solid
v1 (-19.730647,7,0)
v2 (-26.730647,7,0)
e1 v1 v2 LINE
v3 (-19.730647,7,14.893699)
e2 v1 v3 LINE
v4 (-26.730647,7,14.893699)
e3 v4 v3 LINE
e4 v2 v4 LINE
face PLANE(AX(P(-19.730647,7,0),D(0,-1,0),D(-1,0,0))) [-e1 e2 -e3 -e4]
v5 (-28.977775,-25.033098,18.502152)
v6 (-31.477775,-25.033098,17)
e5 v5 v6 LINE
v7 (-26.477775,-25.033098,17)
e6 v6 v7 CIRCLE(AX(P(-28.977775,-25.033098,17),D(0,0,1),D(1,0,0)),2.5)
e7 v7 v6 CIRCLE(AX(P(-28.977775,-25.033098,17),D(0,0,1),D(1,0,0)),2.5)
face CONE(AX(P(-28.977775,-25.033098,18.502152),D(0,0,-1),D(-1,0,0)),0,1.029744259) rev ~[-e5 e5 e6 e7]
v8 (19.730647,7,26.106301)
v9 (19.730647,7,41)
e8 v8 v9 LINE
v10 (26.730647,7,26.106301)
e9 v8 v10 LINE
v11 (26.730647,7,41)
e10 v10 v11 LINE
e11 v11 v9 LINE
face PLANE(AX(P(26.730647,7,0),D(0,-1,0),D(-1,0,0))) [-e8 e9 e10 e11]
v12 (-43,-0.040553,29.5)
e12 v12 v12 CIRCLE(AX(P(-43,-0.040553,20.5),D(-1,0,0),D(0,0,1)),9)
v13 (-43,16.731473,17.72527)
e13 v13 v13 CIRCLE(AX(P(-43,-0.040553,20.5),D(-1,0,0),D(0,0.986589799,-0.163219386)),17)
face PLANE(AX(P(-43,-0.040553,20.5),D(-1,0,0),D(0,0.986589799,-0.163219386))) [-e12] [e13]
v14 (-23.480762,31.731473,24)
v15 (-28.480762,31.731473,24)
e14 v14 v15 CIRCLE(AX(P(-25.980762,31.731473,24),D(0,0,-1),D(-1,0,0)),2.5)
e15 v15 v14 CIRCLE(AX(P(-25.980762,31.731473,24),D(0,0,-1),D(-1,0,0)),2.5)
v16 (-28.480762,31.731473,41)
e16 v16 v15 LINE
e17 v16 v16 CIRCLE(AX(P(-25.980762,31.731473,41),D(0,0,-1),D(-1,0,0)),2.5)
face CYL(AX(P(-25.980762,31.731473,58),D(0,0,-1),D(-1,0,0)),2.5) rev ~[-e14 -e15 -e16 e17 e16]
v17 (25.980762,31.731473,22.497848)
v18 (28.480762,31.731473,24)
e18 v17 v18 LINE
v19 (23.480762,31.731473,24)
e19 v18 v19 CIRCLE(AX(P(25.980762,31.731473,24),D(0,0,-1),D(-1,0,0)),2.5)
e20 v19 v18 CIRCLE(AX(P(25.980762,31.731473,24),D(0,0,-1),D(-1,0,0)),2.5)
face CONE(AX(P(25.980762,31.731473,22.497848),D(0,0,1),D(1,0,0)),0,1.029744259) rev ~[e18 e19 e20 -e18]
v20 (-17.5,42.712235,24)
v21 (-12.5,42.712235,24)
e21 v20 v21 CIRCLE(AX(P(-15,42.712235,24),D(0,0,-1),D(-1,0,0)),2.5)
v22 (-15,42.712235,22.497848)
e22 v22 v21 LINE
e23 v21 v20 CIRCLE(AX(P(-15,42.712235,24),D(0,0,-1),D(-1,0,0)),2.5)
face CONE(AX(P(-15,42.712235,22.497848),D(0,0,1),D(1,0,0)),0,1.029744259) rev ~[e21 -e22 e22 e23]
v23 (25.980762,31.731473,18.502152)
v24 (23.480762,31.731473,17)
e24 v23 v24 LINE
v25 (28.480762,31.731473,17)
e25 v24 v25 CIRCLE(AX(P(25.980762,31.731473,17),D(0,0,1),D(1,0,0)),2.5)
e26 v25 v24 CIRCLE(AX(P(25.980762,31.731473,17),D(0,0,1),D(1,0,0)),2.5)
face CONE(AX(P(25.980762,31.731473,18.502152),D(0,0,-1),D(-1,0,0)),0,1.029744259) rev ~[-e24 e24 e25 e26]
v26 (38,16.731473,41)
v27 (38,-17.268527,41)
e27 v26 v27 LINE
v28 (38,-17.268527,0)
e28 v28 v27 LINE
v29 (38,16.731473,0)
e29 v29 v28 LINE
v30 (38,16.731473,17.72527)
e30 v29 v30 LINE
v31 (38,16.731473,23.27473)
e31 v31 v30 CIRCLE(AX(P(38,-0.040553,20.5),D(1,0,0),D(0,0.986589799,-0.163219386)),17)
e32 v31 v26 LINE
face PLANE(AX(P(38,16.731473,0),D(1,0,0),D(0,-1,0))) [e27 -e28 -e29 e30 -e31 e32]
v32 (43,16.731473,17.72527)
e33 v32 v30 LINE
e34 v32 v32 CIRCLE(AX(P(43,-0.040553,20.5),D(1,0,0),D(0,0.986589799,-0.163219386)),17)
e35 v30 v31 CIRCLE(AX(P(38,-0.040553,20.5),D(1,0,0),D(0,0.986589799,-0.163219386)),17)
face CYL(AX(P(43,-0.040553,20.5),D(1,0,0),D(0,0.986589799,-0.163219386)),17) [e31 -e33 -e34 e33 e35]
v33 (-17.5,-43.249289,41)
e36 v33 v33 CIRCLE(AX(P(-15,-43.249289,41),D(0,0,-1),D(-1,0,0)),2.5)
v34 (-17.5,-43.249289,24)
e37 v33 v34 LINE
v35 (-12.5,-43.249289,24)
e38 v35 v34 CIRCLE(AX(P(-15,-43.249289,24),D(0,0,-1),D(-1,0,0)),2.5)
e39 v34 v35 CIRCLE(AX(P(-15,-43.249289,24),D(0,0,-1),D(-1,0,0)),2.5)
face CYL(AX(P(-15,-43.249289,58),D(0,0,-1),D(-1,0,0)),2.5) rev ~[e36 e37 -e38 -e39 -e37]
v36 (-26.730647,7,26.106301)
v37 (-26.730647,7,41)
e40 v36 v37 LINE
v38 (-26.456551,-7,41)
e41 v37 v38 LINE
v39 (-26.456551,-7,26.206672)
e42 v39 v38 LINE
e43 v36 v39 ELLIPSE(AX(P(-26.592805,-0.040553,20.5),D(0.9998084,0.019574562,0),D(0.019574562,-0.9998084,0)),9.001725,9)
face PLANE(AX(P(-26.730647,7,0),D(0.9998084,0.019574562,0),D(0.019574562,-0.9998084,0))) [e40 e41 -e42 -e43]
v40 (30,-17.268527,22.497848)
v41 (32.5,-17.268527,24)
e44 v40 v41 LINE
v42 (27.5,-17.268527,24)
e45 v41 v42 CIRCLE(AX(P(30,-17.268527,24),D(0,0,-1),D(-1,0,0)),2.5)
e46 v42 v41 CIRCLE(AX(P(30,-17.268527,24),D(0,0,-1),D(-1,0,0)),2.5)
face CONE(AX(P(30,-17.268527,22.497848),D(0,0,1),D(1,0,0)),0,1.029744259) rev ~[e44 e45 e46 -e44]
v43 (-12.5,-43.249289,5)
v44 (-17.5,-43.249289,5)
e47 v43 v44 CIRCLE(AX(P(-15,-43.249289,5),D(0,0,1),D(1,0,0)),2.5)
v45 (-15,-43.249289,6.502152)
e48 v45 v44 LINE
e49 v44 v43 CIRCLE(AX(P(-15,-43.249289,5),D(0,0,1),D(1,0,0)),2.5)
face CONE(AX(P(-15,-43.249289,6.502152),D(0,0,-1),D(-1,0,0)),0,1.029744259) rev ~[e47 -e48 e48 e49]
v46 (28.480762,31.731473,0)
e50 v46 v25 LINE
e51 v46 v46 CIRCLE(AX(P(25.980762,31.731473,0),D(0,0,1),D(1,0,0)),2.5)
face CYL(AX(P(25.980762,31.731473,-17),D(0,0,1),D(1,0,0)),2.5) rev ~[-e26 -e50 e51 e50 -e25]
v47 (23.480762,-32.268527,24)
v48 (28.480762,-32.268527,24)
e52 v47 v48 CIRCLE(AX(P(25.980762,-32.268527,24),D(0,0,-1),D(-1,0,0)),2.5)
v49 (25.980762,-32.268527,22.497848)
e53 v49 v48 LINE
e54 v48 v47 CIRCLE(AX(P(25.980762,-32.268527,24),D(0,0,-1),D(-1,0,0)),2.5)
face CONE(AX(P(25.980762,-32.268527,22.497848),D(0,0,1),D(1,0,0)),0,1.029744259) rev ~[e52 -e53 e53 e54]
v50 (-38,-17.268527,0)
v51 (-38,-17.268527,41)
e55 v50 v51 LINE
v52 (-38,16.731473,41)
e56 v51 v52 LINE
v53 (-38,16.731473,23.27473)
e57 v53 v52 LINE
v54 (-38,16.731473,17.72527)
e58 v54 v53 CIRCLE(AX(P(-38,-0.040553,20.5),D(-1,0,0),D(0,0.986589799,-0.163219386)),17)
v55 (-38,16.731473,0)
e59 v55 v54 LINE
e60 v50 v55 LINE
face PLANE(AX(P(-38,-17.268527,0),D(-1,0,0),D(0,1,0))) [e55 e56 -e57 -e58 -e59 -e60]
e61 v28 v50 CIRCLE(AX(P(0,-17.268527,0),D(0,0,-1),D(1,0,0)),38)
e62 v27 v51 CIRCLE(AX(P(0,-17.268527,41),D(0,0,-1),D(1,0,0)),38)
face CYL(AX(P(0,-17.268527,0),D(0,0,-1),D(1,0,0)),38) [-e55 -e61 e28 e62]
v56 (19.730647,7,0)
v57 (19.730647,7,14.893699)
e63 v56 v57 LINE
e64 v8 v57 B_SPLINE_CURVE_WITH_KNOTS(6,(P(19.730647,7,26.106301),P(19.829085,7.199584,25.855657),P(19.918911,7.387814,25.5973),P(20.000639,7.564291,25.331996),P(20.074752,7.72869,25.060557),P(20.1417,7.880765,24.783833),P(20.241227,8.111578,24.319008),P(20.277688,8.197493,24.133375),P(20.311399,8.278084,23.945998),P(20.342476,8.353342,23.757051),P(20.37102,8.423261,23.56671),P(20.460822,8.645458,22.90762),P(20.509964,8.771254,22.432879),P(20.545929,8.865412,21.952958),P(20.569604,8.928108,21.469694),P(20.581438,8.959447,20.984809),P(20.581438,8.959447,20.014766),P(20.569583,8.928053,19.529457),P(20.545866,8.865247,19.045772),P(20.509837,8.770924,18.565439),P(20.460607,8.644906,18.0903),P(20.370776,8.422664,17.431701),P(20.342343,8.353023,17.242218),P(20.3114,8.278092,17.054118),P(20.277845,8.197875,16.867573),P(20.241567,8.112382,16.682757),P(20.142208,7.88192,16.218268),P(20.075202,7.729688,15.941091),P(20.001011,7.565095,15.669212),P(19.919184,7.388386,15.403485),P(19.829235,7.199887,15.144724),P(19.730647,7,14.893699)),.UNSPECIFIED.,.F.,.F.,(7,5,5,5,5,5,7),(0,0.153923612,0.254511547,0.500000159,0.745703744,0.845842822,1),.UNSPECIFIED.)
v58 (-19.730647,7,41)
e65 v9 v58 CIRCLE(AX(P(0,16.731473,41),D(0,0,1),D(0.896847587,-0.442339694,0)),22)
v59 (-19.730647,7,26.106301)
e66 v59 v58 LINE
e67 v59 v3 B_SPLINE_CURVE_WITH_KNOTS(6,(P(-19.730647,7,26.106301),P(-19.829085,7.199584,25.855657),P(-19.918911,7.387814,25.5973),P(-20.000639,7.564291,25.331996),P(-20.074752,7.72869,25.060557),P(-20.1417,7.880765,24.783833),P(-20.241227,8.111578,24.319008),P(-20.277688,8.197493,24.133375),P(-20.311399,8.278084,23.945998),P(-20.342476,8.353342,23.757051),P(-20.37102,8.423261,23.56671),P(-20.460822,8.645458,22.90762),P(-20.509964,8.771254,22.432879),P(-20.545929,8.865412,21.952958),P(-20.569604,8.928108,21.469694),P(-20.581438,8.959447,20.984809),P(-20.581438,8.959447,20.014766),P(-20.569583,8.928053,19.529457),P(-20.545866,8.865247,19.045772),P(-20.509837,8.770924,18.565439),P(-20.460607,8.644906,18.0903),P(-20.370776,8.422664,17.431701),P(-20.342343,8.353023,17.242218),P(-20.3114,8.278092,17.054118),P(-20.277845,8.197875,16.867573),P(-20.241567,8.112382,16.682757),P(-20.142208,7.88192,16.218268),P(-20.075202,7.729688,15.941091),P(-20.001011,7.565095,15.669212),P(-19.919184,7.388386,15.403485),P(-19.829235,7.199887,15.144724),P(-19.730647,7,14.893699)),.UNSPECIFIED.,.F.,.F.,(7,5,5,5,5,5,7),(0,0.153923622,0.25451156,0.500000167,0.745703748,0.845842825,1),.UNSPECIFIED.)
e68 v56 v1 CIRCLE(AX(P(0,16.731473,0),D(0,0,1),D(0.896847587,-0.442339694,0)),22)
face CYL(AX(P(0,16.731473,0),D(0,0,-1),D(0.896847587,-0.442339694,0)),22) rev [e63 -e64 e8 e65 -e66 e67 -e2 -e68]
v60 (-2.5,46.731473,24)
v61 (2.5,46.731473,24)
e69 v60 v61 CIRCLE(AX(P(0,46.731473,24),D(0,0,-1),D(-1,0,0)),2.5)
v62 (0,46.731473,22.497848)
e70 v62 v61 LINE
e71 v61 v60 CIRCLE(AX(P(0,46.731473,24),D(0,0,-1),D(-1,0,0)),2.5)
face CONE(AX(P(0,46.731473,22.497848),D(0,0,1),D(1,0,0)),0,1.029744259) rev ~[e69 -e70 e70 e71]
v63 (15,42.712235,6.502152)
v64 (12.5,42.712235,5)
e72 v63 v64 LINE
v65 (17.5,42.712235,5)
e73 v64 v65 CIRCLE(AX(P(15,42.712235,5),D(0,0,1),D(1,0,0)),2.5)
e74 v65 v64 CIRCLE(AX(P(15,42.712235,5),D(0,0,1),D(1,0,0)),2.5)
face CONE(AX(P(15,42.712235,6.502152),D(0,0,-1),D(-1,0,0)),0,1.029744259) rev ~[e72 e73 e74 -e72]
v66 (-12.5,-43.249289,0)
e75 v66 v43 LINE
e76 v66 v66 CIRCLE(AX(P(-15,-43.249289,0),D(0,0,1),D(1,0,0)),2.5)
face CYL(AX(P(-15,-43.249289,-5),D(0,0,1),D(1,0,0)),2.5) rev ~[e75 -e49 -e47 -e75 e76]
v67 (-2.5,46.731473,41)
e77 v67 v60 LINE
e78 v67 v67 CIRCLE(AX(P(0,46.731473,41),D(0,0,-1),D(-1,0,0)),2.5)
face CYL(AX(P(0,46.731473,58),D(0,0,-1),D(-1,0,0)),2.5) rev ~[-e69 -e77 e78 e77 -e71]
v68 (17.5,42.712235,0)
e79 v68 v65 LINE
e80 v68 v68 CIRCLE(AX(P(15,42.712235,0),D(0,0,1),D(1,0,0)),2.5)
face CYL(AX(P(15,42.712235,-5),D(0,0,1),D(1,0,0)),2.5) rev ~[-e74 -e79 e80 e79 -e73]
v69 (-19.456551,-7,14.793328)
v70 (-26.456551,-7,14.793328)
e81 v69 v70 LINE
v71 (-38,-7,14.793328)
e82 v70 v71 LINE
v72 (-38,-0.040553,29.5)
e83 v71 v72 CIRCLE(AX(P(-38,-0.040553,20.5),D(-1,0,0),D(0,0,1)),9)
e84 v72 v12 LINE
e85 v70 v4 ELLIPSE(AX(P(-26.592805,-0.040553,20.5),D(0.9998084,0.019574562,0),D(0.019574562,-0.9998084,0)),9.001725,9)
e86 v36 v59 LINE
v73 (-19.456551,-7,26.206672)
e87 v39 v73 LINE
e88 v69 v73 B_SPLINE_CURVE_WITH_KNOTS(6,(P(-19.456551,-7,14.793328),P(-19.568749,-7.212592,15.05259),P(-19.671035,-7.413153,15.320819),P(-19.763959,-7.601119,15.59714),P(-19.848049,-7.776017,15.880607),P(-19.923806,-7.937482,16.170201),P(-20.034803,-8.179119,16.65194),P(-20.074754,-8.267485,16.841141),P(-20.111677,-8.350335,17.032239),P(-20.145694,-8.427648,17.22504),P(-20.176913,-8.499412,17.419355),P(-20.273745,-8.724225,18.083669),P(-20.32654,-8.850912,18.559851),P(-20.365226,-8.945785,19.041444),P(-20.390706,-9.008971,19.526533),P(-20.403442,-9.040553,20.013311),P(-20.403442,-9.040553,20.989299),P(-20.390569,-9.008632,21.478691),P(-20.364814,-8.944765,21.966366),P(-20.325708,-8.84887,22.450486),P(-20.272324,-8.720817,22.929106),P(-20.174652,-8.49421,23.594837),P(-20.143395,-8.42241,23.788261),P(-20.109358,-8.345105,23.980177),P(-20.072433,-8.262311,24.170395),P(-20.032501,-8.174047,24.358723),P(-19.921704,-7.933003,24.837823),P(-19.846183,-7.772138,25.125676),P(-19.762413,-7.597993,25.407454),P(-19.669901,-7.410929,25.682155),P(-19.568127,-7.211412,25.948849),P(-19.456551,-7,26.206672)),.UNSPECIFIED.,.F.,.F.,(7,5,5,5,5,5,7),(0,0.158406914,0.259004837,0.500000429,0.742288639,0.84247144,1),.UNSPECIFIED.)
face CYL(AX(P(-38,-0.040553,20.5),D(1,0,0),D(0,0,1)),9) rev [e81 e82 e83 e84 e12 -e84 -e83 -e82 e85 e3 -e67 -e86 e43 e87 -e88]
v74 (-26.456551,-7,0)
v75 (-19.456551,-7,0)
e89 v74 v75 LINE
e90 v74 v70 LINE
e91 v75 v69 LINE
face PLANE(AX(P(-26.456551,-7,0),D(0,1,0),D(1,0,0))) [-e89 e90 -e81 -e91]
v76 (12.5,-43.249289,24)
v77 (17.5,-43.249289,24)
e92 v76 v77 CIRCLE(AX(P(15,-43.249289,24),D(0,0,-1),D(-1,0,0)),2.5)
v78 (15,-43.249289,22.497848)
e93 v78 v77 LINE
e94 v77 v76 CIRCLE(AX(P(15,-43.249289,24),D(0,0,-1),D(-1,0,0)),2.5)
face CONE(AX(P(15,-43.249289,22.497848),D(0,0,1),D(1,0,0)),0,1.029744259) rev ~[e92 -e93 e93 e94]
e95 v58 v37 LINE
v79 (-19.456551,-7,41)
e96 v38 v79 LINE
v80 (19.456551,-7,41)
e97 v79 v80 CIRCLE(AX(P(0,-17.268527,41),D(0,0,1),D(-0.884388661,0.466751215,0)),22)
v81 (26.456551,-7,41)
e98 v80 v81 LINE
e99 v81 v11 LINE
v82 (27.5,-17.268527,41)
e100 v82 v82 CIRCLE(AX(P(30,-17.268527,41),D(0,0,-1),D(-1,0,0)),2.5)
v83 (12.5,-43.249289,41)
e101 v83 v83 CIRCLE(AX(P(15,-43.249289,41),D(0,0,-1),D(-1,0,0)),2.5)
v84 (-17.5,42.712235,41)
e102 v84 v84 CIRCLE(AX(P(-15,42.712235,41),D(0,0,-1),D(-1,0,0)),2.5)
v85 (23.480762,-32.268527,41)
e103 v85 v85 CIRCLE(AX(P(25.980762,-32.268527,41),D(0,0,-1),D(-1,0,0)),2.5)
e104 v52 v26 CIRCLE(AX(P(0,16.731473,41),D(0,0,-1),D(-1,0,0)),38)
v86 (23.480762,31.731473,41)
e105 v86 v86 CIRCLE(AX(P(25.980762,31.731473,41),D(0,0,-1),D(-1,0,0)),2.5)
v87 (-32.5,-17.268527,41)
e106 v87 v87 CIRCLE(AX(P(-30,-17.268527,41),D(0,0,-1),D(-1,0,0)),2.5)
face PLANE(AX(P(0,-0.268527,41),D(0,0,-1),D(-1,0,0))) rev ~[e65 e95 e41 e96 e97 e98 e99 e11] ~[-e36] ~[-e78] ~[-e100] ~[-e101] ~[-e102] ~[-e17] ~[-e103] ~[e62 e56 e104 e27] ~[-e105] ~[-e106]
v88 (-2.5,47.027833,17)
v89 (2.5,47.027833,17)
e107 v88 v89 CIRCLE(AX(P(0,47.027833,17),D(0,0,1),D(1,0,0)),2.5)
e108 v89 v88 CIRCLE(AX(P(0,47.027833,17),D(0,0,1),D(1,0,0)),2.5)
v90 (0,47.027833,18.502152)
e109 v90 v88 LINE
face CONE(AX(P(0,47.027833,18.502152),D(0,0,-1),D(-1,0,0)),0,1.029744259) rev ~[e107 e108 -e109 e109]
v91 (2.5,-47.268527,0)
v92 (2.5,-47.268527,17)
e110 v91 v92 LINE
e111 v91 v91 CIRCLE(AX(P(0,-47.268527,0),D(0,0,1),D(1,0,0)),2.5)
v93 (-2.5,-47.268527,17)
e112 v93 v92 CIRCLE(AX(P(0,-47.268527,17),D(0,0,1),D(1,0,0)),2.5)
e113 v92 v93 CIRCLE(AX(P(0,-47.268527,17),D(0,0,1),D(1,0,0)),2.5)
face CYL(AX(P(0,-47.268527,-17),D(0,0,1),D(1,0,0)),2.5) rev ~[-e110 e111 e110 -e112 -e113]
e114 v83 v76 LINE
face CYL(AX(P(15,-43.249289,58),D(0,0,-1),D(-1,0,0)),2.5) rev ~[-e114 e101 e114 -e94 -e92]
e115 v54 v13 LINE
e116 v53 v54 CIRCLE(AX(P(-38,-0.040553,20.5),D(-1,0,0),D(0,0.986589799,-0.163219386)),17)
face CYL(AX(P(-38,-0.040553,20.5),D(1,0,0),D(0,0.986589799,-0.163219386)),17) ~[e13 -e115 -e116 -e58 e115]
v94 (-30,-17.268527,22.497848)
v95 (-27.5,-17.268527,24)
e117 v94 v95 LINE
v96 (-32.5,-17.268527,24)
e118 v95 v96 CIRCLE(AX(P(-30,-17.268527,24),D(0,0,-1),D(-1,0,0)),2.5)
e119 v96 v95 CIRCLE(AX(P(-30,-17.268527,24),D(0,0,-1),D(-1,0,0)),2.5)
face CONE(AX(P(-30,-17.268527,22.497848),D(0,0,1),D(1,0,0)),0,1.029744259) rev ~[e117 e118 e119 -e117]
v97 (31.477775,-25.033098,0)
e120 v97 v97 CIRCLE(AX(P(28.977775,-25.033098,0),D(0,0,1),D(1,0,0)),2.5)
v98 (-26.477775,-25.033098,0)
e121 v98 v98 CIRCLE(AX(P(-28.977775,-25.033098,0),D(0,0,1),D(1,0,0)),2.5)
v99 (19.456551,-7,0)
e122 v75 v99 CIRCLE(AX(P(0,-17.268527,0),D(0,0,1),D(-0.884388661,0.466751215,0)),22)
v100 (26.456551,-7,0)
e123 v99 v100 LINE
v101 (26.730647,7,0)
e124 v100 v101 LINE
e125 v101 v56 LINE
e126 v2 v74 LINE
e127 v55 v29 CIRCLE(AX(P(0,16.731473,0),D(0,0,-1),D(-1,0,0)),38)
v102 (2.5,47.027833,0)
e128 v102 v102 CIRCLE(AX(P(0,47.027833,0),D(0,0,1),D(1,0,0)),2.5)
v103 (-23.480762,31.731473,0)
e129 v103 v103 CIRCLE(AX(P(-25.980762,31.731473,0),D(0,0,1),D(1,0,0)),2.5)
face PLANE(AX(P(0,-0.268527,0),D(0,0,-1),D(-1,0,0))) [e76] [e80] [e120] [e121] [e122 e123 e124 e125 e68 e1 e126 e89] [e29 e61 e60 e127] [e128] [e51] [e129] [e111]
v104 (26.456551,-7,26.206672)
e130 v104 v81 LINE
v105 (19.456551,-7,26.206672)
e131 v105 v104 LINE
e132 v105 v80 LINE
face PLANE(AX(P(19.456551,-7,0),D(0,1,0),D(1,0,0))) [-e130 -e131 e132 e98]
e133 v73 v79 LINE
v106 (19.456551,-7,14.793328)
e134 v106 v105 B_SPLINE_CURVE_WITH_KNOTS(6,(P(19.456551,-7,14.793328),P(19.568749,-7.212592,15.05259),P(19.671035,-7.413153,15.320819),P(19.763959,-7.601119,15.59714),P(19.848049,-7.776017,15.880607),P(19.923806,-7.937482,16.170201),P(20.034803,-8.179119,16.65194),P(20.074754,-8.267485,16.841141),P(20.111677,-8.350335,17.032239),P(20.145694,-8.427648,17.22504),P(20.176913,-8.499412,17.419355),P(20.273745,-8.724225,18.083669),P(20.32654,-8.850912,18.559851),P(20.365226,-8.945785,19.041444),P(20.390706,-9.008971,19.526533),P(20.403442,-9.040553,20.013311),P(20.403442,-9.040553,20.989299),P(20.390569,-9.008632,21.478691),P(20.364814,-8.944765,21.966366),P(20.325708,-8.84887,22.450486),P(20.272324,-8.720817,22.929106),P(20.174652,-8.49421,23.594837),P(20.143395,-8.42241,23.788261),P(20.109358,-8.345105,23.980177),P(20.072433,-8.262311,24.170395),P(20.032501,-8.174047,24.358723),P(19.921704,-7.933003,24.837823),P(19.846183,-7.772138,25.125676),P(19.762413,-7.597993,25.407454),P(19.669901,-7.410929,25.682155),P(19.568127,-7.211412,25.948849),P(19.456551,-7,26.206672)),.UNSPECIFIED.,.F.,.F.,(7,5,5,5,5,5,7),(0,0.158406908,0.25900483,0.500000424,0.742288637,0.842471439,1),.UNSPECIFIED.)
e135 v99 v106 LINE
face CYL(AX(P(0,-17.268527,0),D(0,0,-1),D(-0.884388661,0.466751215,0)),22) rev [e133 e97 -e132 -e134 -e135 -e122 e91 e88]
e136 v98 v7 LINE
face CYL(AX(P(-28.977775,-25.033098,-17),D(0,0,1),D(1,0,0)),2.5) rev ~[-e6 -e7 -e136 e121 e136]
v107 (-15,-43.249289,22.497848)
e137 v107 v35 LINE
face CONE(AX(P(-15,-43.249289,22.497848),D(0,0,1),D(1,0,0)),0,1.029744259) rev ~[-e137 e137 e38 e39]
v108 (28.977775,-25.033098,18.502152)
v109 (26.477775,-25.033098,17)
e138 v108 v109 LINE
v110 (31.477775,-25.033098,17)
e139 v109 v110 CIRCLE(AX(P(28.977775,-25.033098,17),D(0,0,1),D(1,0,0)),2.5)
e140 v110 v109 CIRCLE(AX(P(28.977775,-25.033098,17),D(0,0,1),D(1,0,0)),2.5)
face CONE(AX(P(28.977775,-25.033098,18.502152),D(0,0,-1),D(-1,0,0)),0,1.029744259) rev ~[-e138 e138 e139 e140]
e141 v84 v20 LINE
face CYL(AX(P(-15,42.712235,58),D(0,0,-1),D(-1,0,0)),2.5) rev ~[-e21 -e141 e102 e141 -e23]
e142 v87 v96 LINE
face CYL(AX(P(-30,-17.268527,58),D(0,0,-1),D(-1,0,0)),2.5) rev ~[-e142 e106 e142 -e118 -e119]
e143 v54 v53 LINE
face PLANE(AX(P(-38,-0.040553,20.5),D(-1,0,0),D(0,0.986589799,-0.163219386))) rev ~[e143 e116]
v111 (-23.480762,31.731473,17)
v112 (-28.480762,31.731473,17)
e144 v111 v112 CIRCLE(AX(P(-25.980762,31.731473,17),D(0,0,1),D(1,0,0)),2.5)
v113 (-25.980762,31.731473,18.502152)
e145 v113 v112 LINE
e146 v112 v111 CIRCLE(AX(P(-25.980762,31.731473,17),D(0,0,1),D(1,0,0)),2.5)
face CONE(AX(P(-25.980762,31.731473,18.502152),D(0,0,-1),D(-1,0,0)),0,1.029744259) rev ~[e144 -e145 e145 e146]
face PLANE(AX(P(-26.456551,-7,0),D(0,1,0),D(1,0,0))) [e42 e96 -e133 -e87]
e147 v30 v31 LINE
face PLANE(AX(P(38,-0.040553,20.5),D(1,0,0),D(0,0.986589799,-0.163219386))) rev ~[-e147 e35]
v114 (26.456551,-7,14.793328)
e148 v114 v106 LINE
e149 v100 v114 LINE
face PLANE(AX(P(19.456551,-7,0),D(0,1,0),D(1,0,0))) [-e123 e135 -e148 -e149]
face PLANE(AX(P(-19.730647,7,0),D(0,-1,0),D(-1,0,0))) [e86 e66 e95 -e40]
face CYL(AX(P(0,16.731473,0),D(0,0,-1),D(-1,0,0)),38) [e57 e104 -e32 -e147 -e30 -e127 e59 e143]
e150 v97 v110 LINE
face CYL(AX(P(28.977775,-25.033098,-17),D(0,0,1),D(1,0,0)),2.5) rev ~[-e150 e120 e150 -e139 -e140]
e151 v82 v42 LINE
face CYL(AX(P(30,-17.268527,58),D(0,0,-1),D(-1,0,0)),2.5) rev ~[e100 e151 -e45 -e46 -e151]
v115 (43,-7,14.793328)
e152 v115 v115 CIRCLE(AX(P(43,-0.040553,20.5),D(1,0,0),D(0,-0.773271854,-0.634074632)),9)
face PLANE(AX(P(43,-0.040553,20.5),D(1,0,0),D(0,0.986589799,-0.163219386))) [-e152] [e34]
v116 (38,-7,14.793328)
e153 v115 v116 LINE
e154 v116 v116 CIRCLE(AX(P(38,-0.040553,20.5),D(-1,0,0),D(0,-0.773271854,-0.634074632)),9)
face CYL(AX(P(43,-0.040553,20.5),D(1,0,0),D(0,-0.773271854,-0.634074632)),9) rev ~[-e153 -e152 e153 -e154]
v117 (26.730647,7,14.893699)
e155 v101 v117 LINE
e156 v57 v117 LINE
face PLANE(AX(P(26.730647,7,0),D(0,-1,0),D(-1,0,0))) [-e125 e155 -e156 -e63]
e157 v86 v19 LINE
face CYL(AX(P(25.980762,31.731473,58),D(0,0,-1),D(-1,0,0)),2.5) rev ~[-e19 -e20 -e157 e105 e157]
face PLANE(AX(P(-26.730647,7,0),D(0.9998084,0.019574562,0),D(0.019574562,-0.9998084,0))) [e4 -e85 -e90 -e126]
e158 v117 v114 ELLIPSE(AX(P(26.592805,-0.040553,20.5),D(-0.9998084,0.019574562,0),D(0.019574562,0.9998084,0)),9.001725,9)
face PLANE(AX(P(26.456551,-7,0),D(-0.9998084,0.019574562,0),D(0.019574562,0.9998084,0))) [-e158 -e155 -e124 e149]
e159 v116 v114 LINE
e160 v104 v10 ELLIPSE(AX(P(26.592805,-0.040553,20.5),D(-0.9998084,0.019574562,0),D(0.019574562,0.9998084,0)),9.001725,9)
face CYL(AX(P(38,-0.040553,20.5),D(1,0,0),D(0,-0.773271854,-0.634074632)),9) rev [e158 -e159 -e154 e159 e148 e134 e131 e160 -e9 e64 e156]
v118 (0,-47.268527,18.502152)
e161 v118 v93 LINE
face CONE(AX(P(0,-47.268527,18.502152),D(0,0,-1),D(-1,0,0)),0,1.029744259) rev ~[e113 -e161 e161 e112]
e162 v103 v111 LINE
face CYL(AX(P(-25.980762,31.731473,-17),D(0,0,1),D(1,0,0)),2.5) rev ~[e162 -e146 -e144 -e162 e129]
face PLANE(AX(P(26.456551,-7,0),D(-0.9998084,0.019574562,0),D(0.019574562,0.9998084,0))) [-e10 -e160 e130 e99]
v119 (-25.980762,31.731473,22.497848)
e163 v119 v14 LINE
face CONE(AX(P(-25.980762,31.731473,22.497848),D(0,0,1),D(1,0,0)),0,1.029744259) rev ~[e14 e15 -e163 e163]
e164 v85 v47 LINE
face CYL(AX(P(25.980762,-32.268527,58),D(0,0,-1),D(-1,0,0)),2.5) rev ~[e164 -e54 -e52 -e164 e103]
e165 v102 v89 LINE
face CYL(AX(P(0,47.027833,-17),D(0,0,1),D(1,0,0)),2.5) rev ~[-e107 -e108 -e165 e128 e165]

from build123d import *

# Parameters (mm, degrees)
EXTRUDE_1_DEPTH           = 41
SKETCH_3_R                = 17
SKETCH_3_R_2              = 9
EXTRUDE_3_DEPTH           = 5
CUT_EXTRUDE_START         = -76
SKETCH_6_R                = 9
CUT_EXTRUDE_1_DEPTH       = 76
EXTRUDE_START             = 5
SKETCH_7_R                = 17
SKETCH_7_R_2              = 9
EXTRUDE_4_DEPTH           = 5
HOLE_WIZARD_M6_1_D        = 5
HOLE_WIZARD_M6_1_DEPTH    = 17
HOLE_WIZARD_M6_1_TIP      = 1.502151548
HOLE_WIZARD_5_0_5_1_D     = 5
HOLE_WIZARD_5_0_5_1_DEPTH = 5
HOLE_WIZARD_5_0_5_1_TIP   = 1.502151548
HOLE_WIZARD_M6_2_D        = 5
HOLE_WIZARD_M6_2_DEPTH    = 17
HOLE_WIZARD_M6_2_TIP      = 1.502151548
HOLE_WIZARD_5_0_5_2_D     = 5
HOLE_WIZARD_5_0_5_2_DEPTH = 17
HOLE_WIZARD_5_0_5_2_TIP   = 1.502151548


with BuildPart() as part:
    # 草图1 → 凸台-拉伸1 (new body)
    with BuildSketch(Plane.XY):
        with BuildLine():
            Line((38, 16.731473276), (38, -17.268526724))
            ThreePointArc((38, -17.268526724), (0, -55.268526724), (-38, -17.268526724))
            Line((-38, -17.268526724), (-38, 16.731473276))
            ThreePointArc((-38, 16.731473276), (0, 54.731473276), (38, 16.731473276))
        make_face()
        with BuildLine():
            Line((-19.73064692, 7), (-26.73064692, 7))
            Line((-26.73064692, 7), (-26.45655054, -7))
            Line((-26.45655054, -7), (-19.45655054, -7))
            ThreePointArc((-19.45655054, -7), (0, -39.268526724), (19.45655054, -7))
            Line((19.45655054, -7), (26.45655054, -7))
            Line((26.45655054, -7), (26.73064692, 7))
            Line((26.73064692, 7), (19.73064692, 7))
            ThreePointArc((19.73064692, 7), (0, 38.731473276), (-19.73064692, 7))
        make_face(mode=Mode.SUBTRACT)
    extrude(amount=EXTRUDE_1_DEPTH)

    # 草图3 → 凸台-拉伸3 (add)
    with BuildSketch(Plane.ZY.offset(38)):
        with Locations(Location((20.5, -0.04055331, 0), (0, 0, 99.3938106))):
            Circle(SKETCH_3_R)
        with Locations((20.5, -0.04055331)):
            Circle(SKETCH_3_R_2, mode=Mode.SUBTRACT)
    extrude(amount=EXTRUDE_3_DEPTH)

    # 草图6 → 切除-拉伸1 (cut)
    with BuildSketch(Plane.ZY.offset(38).offset(CUT_EXTRUDE_START)):
        with Locations(Location((20.5, -0.04055331, 0), (0, 0, 230.648614593))):
            Circle(SKETCH_6_R)
    extrude(amount=CUT_EXTRUDE_1_DEPTH, mode=Mode.SUBTRACT)

    # 草图7 → 凸台-拉伸4 (add)
    with BuildSketch(Plane(origin=(38, 0, 0), x_dir=(0, 0, -1), z_dir=(1, 0, 0)).offset(EXTRUDE_START)):
        with Locations(Location((-20.5, -0.04055331, 0), (0, 0, 80.6061894))):
            Circle(SKETCH_7_R)
        with Locations(Location((-20.5, -0.04055331, 0), (0, 0, 309.351385407))):
            Circle(SKETCH_7_R_2, mode=Mode.SUBTRACT)
    extrude(amount=-EXTRUDE_4_DEPTH)

    # M6 螺纹孔1
    with Locations(Plane(origin=(0, 47.027832747, 0), x_dir=(-1, 0, 0), z_dir=(0, 0, -1))):
        with Locations((0, 0), (-25.980762114, -15.296359471), (-28.977774789, -72.060930824), (0, -94.296359471), (28.977774789, -72.060930824), (25.980762114, -15.296359471)):
            Hole(HOLE_WIZARD_M6_1_D / 2, depth=HOLE_WIZARD_M6_1_DEPTH)
            with Locations((0, 0, -(HOLE_WIZARD_M6_1_DEPTH + HOLE_WIZARD_M6_1_TIP / 2))):  # 118° drill point
                Cone(0, HOLE_WIZARD_M6_1_D / 2, HOLE_WIZARD_M6_1_TIP, mode=Mode.SUBTRACT)

    # Ø5.0 (5) 直径孔1
    with Locations(Plane(origin=(15, 42.71223539, 0), x_dir=(-1, 0, 0), z_dir=(0, 0, -1))):
        with Locations((0, 0), (30, -85.961524227)):
            Hole(HOLE_WIZARD_5_0_5_1_D / 2, depth=HOLE_WIZARD_5_0_5_1_DEPTH)
            with Locations((0, 0, -(HOLE_WIZARD_5_0_5_1_DEPTH + HOLE_WIZARD_5_0_5_1_TIP / 2))):  # 118° drill point
                Cone(0, HOLE_WIZARD_5_0_5_1_D / 2, HOLE_WIZARD_5_0_5_1_TIP, mode=Mode.SUBTRACT)

    # M6 螺纹孔2
    with Locations(Plane(origin=(0, 46.731473276, 41), x_dir=(1, 0, 0), z_dir=(0, 0, 1))):
        with Locations((0, 0), (-25.980762114, -15), (25.980762114, -15), (30, -64), (-30, -64), (-15, -89.980762113), (15, -89.980762113)):
            Hole(HOLE_WIZARD_M6_2_D / 2, depth=HOLE_WIZARD_M6_2_DEPTH)
            with Locations((0, 0, -(HOLE_WIZARD_M6_2_DEPTH + HOLE_WIZARD_M6_2_TIP / 2))):  # 118° drill point
                Cone(0, HOLE_WIZARD_M6_2_D / 2, HOLE_WIZARD_M6_2_TIP, mode=Mode.SUBTRACT)

    # Ø5.0 (5) 直径孔2
    with Locations(Plane(origin=(-15, 42.71223539, 41), x_dir=(1, 0, 0), z_dir=(0, 0, 1))):
        with Locations((0, 0), (40.980762114, -74.980762114)):
            Hole(HOLE_WIZARD_5_0_5_2_D / 2, depth=HOLE_WIZARD_5_0_5_2_DEPTH)
            with Locations((0, 0, -(HOLE_WIZARD_5_0_5_2_DEPTH + HOLE_WIZARD_5_0_5_2_TIP / 2))):  # 118° drill point
                Cone(0, HOLE_WIZARD_5_0_5_2_D / 2, HOLE_WIZARD_5_0_5_2_TIP, mode=Mode.SUBTRACT)


solid = part.part
